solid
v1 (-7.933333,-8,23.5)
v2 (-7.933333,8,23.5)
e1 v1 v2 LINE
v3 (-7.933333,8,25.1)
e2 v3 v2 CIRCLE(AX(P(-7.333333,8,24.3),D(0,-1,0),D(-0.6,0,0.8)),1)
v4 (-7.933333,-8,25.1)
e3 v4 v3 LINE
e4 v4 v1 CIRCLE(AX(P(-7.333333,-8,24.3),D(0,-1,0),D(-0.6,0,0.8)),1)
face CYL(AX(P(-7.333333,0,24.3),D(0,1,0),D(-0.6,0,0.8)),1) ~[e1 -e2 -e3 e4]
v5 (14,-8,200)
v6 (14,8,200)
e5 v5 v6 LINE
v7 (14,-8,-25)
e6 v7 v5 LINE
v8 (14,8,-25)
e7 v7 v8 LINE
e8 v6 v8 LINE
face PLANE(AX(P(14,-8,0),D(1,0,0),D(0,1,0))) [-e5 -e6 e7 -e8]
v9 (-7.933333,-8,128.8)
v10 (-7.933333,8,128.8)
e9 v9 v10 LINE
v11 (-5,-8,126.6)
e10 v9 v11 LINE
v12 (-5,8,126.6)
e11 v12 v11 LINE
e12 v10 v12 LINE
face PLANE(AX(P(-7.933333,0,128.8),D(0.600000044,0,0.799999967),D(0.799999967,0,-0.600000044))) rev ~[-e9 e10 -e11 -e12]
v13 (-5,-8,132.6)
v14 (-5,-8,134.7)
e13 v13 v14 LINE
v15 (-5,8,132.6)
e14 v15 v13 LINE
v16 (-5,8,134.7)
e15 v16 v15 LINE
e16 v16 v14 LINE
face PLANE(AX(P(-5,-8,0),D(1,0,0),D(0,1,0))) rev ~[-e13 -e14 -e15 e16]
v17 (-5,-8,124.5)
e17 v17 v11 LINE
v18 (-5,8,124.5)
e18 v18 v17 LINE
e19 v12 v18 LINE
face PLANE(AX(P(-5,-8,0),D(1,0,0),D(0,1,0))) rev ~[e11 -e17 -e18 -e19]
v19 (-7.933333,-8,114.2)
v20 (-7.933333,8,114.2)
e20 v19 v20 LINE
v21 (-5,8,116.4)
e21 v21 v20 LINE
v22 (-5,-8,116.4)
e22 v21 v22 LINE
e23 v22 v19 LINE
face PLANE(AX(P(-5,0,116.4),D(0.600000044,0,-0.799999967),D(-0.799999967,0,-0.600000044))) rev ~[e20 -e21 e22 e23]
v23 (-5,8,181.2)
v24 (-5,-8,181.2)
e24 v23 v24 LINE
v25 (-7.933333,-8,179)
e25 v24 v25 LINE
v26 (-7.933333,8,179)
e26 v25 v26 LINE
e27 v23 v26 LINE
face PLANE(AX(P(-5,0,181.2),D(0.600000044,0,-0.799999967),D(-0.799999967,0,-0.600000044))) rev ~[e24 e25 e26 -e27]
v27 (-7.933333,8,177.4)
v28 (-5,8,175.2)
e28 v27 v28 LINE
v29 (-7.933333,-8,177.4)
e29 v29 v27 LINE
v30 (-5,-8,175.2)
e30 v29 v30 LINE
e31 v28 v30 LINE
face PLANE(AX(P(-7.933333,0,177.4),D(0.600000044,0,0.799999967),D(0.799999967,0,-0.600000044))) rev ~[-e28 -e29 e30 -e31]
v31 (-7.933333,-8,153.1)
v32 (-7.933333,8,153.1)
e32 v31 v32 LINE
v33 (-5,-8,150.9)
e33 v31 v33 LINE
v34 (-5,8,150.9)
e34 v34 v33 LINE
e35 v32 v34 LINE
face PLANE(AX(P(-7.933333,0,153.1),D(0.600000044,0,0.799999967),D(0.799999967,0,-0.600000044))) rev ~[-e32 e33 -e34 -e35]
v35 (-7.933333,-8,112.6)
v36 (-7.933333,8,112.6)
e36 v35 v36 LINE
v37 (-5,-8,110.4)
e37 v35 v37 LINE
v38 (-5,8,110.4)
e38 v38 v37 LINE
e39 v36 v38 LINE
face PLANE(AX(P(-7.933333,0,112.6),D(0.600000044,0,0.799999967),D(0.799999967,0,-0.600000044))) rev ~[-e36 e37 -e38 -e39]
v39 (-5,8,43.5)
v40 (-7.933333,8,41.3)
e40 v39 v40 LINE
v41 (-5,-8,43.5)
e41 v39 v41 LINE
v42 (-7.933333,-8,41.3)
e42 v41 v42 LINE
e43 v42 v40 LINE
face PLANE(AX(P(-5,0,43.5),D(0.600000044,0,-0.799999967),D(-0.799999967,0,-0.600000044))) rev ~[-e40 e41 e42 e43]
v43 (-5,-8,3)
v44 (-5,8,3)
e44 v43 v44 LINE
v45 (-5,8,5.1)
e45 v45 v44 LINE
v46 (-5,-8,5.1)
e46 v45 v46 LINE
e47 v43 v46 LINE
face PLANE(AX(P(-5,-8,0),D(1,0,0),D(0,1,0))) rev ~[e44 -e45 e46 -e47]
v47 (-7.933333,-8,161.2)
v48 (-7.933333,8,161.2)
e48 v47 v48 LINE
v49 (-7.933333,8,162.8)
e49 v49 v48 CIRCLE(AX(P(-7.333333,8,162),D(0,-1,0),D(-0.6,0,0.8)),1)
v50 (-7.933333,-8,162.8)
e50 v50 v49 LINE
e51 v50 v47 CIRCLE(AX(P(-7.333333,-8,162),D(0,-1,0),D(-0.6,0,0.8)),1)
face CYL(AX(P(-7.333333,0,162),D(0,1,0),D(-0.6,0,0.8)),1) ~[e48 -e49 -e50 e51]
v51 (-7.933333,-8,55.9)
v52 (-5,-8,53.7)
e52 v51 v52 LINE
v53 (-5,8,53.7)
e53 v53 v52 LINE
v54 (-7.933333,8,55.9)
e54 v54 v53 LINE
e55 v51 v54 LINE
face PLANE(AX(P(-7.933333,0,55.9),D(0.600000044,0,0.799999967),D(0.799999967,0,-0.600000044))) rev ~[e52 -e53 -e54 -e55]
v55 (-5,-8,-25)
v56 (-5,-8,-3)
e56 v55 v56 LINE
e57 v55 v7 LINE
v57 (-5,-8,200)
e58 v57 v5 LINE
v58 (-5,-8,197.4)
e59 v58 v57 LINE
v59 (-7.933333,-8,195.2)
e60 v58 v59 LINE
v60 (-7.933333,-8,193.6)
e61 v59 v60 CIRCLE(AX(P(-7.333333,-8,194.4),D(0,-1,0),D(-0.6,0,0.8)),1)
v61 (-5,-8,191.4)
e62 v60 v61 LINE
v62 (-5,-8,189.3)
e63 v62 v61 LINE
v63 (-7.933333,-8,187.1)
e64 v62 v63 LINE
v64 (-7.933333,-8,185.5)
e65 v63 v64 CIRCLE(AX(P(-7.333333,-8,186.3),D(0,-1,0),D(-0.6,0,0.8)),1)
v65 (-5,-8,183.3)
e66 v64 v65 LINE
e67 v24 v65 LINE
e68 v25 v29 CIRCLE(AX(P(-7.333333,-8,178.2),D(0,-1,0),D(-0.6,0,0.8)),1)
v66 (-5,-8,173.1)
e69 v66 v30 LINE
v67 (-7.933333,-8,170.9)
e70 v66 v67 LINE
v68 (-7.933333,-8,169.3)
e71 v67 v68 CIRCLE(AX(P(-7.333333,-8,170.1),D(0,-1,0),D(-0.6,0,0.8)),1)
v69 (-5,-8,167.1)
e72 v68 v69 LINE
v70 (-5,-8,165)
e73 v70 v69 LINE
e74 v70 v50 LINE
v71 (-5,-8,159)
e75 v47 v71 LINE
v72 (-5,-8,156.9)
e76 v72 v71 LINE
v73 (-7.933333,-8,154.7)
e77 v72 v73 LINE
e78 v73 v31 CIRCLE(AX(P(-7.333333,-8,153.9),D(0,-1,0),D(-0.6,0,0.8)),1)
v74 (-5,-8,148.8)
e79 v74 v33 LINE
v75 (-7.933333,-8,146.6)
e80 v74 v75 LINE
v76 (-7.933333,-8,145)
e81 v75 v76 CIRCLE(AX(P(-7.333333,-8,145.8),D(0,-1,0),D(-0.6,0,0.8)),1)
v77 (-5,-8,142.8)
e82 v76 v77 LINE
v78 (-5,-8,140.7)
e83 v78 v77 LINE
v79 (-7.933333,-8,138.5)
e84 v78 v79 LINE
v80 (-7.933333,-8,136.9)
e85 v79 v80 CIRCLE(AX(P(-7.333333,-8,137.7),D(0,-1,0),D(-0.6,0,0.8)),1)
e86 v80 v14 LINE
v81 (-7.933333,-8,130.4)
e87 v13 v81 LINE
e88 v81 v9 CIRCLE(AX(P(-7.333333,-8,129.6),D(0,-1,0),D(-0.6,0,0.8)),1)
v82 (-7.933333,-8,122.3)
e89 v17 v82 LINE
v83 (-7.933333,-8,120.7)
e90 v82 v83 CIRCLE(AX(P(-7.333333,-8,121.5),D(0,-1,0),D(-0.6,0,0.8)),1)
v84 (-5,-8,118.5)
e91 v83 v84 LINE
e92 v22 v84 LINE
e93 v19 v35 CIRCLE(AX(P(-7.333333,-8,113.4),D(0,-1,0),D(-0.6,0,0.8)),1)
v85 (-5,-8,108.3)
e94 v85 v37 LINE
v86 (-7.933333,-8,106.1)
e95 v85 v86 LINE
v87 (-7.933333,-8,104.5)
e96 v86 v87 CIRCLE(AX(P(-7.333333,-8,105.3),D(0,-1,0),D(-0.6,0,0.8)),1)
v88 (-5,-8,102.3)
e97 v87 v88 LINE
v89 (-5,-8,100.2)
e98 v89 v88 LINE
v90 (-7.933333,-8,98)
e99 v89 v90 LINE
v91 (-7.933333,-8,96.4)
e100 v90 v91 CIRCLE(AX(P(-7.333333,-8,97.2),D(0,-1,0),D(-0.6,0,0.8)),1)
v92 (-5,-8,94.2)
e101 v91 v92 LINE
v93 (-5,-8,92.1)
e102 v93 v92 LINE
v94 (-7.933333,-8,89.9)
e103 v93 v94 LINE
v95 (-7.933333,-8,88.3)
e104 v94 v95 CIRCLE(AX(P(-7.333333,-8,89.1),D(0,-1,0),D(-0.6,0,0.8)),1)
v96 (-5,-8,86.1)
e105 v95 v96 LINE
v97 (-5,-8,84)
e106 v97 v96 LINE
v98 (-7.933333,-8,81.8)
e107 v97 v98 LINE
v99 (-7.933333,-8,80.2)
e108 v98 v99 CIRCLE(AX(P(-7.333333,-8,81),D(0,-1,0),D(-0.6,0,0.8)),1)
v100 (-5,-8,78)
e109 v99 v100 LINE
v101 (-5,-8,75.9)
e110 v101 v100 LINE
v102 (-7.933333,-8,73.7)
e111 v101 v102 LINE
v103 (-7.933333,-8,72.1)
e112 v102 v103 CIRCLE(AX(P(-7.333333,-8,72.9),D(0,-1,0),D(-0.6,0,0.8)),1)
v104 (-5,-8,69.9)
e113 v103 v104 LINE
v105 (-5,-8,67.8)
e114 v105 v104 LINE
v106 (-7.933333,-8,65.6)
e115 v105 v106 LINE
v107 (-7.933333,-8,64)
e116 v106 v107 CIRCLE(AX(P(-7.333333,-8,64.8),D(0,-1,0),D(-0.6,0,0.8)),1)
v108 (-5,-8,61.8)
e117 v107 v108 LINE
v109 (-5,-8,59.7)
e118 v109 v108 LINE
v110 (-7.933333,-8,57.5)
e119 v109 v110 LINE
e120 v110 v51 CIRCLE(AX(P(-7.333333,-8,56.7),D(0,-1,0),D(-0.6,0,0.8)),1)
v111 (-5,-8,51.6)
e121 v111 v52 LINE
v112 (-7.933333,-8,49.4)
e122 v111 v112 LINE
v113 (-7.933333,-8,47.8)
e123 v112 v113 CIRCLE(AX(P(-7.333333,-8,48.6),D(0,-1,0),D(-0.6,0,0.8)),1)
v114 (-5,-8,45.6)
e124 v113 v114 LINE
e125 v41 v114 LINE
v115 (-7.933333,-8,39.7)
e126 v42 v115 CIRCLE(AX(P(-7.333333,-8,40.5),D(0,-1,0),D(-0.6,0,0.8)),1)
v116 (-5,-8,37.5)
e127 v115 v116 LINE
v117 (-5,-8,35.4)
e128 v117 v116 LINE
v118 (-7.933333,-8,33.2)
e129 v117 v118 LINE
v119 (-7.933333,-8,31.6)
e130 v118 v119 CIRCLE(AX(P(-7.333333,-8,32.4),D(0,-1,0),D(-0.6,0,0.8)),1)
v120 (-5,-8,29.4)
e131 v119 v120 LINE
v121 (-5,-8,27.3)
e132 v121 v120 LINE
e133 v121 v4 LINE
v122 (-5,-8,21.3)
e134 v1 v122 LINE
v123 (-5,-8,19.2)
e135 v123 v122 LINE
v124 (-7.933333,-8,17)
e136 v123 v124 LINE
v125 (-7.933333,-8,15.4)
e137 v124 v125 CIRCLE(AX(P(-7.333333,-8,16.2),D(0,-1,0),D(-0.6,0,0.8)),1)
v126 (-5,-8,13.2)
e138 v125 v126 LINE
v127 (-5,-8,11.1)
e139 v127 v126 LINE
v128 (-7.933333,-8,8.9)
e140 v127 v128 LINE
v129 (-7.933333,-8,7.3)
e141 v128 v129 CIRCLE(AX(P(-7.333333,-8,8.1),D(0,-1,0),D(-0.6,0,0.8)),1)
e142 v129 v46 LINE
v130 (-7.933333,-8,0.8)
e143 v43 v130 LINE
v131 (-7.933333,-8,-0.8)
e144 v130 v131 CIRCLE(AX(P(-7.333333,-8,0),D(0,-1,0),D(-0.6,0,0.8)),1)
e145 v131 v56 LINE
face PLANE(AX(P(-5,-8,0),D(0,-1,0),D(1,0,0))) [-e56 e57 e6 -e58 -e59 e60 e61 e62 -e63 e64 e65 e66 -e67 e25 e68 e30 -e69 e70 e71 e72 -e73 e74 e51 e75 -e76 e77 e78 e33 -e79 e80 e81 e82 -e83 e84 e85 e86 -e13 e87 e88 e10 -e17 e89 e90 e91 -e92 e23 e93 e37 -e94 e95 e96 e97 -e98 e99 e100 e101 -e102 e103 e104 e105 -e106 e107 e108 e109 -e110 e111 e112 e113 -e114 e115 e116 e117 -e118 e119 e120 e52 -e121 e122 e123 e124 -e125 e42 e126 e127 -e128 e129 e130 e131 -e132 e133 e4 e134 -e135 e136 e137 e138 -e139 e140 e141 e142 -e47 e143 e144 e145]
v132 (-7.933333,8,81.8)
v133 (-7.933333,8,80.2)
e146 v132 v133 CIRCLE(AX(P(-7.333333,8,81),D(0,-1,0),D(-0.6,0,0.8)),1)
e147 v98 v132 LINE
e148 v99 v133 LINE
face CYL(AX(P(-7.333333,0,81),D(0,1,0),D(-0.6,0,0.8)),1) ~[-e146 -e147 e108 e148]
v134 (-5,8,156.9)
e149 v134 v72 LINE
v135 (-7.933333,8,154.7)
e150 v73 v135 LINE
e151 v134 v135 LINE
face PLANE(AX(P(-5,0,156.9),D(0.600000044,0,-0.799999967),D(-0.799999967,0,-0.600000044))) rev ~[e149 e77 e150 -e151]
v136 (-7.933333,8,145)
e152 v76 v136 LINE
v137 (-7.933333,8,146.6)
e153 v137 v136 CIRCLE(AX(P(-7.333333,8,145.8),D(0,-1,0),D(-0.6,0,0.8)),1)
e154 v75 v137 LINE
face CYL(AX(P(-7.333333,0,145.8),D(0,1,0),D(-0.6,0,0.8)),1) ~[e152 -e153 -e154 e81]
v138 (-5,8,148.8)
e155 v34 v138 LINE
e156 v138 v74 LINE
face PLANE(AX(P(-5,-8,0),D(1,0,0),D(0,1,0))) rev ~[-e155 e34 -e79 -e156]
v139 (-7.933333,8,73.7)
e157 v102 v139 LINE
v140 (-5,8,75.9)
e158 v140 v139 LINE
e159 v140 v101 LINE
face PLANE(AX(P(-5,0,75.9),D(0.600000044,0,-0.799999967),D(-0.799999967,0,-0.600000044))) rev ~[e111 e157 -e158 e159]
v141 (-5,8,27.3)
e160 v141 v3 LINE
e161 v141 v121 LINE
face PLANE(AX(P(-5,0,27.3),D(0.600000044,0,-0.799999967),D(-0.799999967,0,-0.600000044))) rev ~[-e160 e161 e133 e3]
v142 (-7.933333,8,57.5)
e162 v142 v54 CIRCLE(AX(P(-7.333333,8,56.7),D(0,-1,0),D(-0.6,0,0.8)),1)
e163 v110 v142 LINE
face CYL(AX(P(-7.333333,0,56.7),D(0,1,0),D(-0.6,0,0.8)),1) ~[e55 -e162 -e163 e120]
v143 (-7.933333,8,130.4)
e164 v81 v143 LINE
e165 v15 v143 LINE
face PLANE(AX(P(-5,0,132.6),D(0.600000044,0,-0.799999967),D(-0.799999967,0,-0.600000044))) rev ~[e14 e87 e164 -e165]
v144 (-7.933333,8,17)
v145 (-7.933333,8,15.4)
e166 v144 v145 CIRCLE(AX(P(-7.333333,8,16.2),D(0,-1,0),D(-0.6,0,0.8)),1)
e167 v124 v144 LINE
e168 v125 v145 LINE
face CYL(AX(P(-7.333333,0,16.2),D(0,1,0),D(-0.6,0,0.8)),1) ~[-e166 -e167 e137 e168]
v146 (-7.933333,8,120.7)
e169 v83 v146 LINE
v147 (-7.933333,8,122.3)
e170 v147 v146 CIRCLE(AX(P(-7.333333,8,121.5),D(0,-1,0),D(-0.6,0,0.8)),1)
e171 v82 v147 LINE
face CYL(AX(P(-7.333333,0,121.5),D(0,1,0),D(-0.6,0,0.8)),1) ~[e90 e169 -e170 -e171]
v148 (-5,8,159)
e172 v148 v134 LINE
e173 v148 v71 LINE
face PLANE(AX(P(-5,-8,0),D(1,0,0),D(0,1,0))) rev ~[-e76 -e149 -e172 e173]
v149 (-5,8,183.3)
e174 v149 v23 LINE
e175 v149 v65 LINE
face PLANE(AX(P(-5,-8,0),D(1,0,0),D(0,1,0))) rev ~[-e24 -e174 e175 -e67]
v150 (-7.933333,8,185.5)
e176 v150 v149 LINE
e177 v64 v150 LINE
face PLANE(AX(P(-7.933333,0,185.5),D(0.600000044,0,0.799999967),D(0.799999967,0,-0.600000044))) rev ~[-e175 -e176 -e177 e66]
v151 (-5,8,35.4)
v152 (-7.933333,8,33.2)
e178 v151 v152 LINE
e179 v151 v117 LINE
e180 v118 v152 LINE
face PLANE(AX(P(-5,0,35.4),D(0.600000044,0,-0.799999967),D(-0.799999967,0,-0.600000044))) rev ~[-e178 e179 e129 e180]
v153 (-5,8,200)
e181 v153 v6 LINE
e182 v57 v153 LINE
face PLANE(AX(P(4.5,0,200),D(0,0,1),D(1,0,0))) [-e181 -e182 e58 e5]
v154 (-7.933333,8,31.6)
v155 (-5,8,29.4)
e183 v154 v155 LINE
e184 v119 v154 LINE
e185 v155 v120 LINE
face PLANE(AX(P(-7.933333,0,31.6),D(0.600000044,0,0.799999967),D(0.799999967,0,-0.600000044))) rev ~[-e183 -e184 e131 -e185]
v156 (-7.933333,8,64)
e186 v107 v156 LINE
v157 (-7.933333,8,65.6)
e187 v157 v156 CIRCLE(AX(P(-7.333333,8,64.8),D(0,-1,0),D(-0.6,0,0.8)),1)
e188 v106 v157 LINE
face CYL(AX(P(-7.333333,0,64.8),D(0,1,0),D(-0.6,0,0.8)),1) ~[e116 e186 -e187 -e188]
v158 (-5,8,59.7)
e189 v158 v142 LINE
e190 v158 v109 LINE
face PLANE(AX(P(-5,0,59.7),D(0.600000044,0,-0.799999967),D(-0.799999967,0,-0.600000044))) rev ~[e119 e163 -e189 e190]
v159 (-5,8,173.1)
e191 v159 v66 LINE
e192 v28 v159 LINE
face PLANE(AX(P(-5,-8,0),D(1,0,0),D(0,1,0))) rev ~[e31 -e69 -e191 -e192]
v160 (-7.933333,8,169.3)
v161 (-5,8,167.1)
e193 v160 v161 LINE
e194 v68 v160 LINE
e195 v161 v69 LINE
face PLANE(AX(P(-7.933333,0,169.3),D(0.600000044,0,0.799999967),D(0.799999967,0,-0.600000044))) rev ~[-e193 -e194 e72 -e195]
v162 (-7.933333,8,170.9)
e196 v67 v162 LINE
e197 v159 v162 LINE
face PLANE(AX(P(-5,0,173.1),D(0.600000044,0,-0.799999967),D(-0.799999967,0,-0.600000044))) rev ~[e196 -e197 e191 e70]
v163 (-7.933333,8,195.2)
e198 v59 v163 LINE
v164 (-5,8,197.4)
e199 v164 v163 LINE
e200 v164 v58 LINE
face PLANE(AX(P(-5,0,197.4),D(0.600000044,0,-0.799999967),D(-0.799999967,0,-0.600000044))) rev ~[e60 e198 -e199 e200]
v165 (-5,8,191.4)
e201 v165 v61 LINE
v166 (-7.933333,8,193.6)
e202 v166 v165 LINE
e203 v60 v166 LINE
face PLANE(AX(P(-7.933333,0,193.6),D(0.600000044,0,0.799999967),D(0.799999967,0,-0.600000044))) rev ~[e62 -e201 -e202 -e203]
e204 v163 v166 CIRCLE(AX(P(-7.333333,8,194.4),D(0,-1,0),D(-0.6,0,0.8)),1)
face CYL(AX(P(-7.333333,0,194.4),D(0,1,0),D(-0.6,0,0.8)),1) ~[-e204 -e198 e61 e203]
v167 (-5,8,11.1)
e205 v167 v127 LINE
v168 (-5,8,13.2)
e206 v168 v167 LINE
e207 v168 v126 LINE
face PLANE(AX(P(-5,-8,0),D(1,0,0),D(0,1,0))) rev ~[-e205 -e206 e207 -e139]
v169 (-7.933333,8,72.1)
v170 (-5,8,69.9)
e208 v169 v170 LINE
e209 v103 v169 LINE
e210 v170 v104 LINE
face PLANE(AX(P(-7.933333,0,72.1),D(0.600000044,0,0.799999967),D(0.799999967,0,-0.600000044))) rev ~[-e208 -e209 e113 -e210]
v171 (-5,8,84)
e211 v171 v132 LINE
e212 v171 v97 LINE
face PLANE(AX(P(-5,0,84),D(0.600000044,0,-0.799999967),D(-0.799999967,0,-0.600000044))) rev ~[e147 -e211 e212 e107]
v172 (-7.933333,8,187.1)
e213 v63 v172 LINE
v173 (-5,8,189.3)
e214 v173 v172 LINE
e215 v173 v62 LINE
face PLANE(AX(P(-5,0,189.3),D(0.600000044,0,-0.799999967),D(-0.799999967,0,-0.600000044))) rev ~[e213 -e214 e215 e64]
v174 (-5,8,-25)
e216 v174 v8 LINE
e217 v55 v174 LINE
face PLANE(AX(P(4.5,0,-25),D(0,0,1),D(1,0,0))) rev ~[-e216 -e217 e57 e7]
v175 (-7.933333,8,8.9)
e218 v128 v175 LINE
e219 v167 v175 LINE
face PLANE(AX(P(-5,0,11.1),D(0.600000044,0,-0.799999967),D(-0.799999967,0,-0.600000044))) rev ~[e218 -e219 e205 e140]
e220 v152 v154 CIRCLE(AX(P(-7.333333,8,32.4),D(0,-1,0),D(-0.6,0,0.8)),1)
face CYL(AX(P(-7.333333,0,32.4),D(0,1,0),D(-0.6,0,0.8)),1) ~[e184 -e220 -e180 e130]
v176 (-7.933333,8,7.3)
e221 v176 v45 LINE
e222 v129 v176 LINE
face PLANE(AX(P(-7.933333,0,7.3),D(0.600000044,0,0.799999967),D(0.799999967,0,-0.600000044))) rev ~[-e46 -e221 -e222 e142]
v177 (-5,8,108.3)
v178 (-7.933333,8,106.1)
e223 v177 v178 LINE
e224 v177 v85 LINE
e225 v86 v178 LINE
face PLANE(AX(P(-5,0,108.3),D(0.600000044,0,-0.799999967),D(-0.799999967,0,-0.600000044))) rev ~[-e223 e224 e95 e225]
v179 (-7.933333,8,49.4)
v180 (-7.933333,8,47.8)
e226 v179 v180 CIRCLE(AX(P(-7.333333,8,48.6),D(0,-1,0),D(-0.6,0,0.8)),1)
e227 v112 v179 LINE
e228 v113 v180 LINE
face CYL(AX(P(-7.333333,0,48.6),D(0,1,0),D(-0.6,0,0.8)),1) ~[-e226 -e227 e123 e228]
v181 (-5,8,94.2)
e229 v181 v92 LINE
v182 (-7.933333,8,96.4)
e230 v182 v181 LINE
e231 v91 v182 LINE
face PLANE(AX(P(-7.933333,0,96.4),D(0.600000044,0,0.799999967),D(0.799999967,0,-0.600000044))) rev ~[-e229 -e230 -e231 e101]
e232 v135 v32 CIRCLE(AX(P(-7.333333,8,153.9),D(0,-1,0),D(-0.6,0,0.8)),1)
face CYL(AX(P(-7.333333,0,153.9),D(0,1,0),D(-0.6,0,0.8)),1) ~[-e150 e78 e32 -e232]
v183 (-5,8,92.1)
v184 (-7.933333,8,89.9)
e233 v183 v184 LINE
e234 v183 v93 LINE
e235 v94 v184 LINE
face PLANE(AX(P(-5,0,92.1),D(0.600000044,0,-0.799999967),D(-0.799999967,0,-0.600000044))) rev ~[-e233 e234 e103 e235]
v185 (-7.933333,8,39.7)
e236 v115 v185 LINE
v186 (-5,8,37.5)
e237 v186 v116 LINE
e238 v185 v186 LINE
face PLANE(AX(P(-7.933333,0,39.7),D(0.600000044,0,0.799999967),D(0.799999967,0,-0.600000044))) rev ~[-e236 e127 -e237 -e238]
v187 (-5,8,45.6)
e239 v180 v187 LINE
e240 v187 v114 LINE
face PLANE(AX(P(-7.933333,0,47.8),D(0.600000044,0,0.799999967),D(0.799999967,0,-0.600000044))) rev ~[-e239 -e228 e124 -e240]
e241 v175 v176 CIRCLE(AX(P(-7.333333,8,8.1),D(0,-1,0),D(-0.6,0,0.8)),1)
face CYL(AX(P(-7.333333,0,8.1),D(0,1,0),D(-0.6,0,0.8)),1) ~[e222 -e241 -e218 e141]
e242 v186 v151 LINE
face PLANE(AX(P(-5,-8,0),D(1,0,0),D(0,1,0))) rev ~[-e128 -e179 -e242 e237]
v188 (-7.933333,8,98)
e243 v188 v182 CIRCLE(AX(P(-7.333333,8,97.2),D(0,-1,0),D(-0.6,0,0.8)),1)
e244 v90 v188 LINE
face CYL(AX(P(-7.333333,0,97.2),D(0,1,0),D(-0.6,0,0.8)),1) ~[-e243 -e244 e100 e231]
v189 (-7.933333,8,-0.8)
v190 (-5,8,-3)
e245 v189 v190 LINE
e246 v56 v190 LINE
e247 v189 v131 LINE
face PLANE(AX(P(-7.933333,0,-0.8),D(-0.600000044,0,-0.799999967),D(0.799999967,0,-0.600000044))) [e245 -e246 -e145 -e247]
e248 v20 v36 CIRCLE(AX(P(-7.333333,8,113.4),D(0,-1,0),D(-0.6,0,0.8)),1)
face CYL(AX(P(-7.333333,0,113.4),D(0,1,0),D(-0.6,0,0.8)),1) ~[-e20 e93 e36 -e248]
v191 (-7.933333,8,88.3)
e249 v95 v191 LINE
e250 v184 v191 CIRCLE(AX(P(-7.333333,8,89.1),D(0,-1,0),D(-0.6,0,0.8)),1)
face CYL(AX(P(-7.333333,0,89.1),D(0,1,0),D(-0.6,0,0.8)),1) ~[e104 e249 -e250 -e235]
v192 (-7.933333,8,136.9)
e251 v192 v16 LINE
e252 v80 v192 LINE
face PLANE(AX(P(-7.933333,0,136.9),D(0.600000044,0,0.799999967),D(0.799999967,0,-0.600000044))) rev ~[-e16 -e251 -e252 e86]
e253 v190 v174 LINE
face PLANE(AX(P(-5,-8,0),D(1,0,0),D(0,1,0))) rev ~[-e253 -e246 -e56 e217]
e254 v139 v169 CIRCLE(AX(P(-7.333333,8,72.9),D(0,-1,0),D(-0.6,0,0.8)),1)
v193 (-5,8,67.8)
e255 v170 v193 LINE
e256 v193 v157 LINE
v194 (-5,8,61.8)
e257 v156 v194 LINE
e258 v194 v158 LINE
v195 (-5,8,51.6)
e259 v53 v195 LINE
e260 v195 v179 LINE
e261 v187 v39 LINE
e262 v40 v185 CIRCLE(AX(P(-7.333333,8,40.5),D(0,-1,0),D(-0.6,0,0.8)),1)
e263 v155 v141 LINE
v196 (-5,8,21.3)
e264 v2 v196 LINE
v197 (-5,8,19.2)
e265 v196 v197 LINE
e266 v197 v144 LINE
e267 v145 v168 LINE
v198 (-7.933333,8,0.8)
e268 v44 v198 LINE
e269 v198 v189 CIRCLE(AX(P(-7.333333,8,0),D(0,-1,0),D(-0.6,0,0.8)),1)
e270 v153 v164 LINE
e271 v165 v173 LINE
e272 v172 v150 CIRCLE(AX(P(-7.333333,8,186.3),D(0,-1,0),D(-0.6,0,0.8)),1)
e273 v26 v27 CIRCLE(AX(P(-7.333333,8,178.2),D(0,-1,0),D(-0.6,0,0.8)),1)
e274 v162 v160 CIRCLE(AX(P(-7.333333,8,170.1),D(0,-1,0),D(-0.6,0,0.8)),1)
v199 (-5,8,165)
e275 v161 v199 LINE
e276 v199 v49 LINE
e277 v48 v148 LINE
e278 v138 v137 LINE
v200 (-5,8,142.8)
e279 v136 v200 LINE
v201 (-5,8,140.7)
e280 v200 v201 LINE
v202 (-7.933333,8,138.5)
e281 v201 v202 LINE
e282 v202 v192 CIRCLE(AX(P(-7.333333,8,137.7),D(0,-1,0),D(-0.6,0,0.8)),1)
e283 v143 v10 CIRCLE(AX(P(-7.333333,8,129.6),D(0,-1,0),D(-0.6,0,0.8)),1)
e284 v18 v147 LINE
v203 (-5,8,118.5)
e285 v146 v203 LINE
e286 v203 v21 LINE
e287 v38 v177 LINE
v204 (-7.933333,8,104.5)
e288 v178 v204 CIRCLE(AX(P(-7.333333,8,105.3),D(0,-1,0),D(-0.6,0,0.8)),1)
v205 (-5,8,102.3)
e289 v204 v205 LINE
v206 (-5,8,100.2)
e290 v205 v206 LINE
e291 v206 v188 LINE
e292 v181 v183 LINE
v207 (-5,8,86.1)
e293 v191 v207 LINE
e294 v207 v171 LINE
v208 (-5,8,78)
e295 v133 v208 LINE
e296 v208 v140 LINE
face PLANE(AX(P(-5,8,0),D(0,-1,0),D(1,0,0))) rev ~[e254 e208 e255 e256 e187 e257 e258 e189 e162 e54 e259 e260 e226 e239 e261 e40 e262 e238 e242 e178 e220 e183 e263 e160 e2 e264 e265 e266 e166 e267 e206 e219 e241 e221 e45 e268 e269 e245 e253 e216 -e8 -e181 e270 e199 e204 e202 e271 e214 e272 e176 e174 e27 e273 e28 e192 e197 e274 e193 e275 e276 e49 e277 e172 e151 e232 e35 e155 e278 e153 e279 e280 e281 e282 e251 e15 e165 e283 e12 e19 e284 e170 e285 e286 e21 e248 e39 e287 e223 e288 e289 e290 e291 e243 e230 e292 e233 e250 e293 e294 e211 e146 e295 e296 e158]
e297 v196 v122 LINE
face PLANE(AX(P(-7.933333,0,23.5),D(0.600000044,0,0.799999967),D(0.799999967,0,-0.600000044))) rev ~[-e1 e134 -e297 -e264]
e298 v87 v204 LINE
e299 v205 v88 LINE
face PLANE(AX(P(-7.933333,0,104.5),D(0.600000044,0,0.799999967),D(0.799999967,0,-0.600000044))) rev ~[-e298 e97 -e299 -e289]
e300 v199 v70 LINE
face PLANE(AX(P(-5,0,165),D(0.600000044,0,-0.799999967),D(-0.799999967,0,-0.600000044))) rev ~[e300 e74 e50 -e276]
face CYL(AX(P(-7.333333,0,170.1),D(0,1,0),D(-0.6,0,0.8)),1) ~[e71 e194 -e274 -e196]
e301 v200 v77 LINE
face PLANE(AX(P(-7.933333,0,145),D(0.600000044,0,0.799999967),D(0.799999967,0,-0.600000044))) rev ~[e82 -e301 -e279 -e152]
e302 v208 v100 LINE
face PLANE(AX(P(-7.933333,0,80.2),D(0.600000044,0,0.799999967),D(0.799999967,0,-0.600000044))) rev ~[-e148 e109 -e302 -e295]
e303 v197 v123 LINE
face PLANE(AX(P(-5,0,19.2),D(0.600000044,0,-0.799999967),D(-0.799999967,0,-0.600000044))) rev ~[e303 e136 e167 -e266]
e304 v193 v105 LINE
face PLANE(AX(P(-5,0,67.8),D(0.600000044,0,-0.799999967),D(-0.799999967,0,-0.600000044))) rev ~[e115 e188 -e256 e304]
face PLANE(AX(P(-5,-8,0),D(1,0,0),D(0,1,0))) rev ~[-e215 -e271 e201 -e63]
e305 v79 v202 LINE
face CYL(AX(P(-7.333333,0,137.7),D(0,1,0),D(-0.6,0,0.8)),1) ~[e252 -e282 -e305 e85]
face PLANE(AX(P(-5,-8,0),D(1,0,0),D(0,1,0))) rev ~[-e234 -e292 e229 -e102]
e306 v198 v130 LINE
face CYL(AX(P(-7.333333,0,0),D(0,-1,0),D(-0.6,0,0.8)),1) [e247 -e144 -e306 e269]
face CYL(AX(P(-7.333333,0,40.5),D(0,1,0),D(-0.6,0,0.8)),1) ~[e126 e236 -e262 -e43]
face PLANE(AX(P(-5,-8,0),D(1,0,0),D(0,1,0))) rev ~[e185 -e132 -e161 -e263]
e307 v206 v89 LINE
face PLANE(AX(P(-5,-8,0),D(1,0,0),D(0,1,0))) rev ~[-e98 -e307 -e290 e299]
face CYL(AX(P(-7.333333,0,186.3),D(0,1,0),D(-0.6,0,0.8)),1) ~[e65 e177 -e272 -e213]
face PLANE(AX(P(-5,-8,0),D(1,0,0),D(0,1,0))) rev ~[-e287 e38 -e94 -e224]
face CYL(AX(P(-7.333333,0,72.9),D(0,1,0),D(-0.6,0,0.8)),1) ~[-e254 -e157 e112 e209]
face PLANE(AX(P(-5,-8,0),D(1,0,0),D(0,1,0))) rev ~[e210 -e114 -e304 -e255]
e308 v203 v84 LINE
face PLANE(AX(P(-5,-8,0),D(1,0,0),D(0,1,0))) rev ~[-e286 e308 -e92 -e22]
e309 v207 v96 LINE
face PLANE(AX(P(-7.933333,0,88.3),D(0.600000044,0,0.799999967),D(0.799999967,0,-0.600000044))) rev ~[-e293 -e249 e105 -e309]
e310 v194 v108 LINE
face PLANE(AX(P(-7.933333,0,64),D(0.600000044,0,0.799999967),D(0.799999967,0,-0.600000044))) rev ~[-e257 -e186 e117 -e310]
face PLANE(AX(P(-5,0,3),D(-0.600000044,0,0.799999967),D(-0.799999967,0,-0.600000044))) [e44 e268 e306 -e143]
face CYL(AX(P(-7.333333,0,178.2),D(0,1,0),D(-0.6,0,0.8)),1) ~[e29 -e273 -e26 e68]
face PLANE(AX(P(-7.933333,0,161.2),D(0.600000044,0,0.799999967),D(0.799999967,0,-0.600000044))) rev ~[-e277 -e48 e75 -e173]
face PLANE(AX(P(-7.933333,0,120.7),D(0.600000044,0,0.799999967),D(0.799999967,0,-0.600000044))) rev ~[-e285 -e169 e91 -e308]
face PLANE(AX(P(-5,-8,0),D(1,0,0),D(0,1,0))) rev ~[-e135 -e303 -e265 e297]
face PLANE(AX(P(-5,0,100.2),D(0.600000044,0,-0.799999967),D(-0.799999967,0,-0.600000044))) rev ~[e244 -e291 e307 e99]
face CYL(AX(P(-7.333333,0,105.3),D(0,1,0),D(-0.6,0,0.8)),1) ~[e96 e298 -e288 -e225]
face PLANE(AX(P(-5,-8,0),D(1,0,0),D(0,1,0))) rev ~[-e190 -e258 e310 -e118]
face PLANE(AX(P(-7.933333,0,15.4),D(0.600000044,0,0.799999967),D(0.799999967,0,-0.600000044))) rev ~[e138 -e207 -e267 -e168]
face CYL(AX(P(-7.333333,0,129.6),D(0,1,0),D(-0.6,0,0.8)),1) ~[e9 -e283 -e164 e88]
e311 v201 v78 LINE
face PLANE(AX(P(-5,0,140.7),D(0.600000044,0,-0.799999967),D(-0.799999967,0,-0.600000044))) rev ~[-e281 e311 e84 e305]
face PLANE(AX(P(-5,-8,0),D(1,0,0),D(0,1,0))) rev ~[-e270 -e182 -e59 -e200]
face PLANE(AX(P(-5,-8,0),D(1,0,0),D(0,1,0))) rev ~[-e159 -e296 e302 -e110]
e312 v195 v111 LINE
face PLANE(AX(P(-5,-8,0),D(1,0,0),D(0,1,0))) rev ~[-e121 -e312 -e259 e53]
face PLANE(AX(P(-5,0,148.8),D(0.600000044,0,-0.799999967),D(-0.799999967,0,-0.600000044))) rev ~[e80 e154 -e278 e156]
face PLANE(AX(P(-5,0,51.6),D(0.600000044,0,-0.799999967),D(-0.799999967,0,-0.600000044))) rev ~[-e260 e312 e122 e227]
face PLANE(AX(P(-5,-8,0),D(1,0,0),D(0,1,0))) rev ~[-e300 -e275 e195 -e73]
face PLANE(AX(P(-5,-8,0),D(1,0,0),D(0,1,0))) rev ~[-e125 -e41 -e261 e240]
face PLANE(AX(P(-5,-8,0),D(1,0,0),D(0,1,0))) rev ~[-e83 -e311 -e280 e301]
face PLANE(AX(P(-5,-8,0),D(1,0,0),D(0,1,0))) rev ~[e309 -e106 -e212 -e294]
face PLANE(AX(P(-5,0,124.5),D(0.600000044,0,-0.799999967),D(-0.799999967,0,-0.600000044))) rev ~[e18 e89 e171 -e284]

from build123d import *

# Parameters (mm, degrees)
F0_W          = 19
F0_H          = 16
F1_DEPTH      = 200
F1_DEPTH_BACK = 25
F3_DEPTH      = 8


with BuildPart() as f1:
    # F0 (on Top) → F1 (new body, two sides)
    with BuildSketch(Plane.XY) as f1_sk:
        with Locations((4.5, 0)):
            Rectangle(F0_W, F0_H)
    extrude(amount=F1_DEPTH)
    extrude(f1_sk.sketch, amount=-F1_DEPTH_BACK)

    # F2 (on Front) → F3 (join, symmetric)
    with BuildSketch(Plane.XZ):
        with BuildLine():
            Line((-7.933333, 193.6), (-5, 191.4))
            Line((-5, 191.4), (-5, 197.4))
            Line((-5, 197.4), (-7.933333, 195.2))
            ThreePointArc((-7.933333, 195.2), (-8.333333, 194.4), (-7.933333, 193.6))
        make_face()
        with BuildLine():
            Line((-7.933333, 185.5), (-5, 183.3))
            Line((-5, 183.3), (-5, 189.3))
            Line((-5, 189.3), (-7.933333, 187.1))
            ThreePointArc((-7.933333, 187.1), (-8.333333, 186.3), (-7.933333, 185.5))
        make_face()
        with BuildLine():
            Line((-7.933333, 177.4), (-5, 175.2))
            Line((-5, 175.2), (-5, 181.2))
            Line((-5, 181.2), (-7.933333, 179))
            ThreePointArc((-7.933333, 179), (-8.333333, 178.2), (-7.933333, 177.4))
        make_face()
        with BuildLine():
            Line((-7.933333, 169.3), (-5, 167.1))
            Line((-5, 167.1), (-5, 173.1))
            Line((-5, 173.1), (-7.933333, 170.9))
            ThreePointArc((-7.933333, 170.9), (-8.333333, 170.1), (-7.933333, 169.3))
        make_face()
        with BuildLine():
            Line((-7.933333, 161.2), (-5, 159))
            Line((-5, 159), (-5, 165))
            Line((-5, 165), (-7.933333, 162.8))
            ThreePointArc((-7.933333, 162.8), (-8.333333, 162), (-7.933333, 161.2))
        make_face()
        with BuildLine():
            Line((-7.933333, 153.1), (-5, 150.9))
            Line((-5, 150.9), (-5, 156.9))
            Line((-5, 156.9), (-7.933333, 154.7))
            ThreePointArc((-7.933333, 154.7), (-8.333333, 153.9), (-7.933333, 153.1))
        make_face()
        with BuildLine():
            Line((-7.933333, 145), (-5, 142.8))
            Line((-5, 142.8), (-5, 148.8))
            Line((-5, 148.8), (-7.933333, 146.6))
            ThreePointArc((-7.933333, 146.6), (-8.333333, 145.8), (-7.933333, 145))
        make_face()
        with BuildLine():
            Line((-7.933333, 136.9), (-5, 134.7))
            Line((-5, 134.7), (-5, 140.7))
            Line((-5, 140.7), (-7.933333, 138.5))
            ThreePointArc((-7.933333, 138.5), (-8.333333, 137.7), (-7.933333, 136.9))
        make_face()
        with BuildLine():
            Line((-7.933333, 128.8), (-5, 126.6))
            Line((-5, 126.6), (-5, 132.6))
            Line((-5, 132.6), (-7.933333, 130.4))
            ThreePointArc((-7.933333, 130.4), (-8.333333, 129.6), (-7.933333, 128.8))
        make_face()
        with BuildLine():
            Line((-7.933333, 120.7), (-5, 118.5))
            Line((-5, 118.5), (-5, 124.5))
            Line((-5, 124.5), (-7.933333, 122.3))
            ThreePointArc((-7.933333, 122.3), (-8.333333, 121.5), (-7.933333, 120.7))
        make_face()
        with BuildLine():
            Line((-7.933333, 112.6), (-5, 110.4))
            Line((-5, 110.4), (-5, 116.4))
            Line((-5, 116.4), (-7.933333, 114.2))
            ThreePointArc((-7.933333, 114.2), (-8.333333, 113.4), (-7.933333, 112.6))
        make_face()
        with BuildLine():
            Line((-7.933333, 104.5), (-5, 102.3))
            Line((-5, 102.3), (-5, 108.3))
            Line((-5, 108.3), (-7.933333, 106.1))
            ThreePointArc((-7.933333, 106.1), (-8.333333, 105.3), (-7.933333, 104.5))
        make_face()
        with BuildLine():
            Line((-7.933333, 96.4), (-5, 94.2))
            Line((-5, 94.2), (-5, 100.2))
            Line((-5, 100.2), (-7.933333, 98))
            ThreePointArc((-7.933333, 98), (-8.333333, 97.2), (-7.933333, 96.4))
        make_face()
        with BuildLine():
            Line((-7.933333, 88.3), (-5, 86.1))
            Line((-5, 86.1), (-5, 92.1))
            Line((-5, 92.1), (-7.933333, 89.9))
            ThreePointArc((-7.933333, 89.9), (-8.333333, 89.1), (-7.933333, 88.3))
        make_face()
        with BuildLine():
            Line((-7.933333, 80.2), (-5, 78))
            Line((-5, 78), (-5, 84))
            Line((-5, 84), (-7.933333, 81.8))
            ThreePointArc((-7.933333, 81.8), (-8.333333, 81), (-7.933333, 80.2))
        make_face()
        with BuildLine():
            Line((-7.933333, 72.1), (-5, 69.9))
            Line((-5, 69.9), (-5, 75.9))
            Line((-5, 75.9), (-7.933333, 73.7))
            ThreePointArc((-7.933333, 73.7), (-8.333333, 72.9), (-7.933333, 72.1))
        make_face()
        with BuildLine():
            Line((-7.933333, 64), (-5, 61.8))
            Line((-5, 61.8), (-5, 67.8))
            Line((-5, 67.8), (-7.933333, 65.6))
            ThreePointArc((-7.933333, 65.6), (-8.333333, 64.8), (-7.933333, 64))
        make_face()
        with BuildLine():
            Line((-7.933333, 55.9), (-5, 53.7))
            Line((-5, 53.7), (-5, 59.7))
            Line((-5, 59.7), (-7.933333, 57.5))
            ThreePointArc((-7.933333, 57.5), (-8.333333, 56.7), (-7.933333, 55.9))
        make_face()
        with BuildLine():
            Line((-7.933333, 47.8), (-5, 45.6))
            Line((-5, 45.6), (-5, 51.6))
            Line((-5, 51.6), (-7.933333, 49.4))
            ThreePointArc((-7.933333, 49.4), (-8.333333, 48.6), (-7.933333, 47.8))
        make_face()
        with BuildLine():
            Line((-7.933333, 39.7), (-5, 37.5))
            Line((-5, 37.5), (-5, 43.5))
            Line((-5, 43.5), (-7.933333, 41.3))
            ThreePointArc((-7.933333, 41.3), (-8.333333, 40.5), (-7.933333, 39.7))
        make_face()
        with BuildLine():
            Line((-7.933333, 31.6), (-5, 29.4))
            Line((-5, 29.4), (-5, 35.4))
            Line((-5, 35.4), (-7.933333, 33.2))
            ThreePointArc((-7.933333, 33.2), (-8.333333, 32.4), (-7.933333, 31.6))
        make_face()
        with BuildLine():
            Line((-7.933333, 23.5), (-5, 21.3))
            Line((-5, 21.3), (-5, 27.3))
            Line((-5, 27.3), (-7.933333, 25.1))
            ThreePointArc((-7.933333, 25.1), (-8.333333, 24.3), (-7.933333, 23.5))
        make_face()
        with BuildLine():
            Line((-7.933333, 15.4), (-5, 13.2))
            Line((-5, 13.2), (-5, 19.2))
            Line((-5, 19.2), (-7.933333, 17))
            ThreePointArc((-7.933333, 17), (-8.333333, 16.2), (-7.933333, 15.4))
        make_face()
        with BuildLine():
            Line((-7.933333, 7.3), (-5, 5.1))
            Line((-5, 5.1), (-5, 11.1))
            Line((-5, 11.1), (-7.933333, 8.9))
            ThreePointArc((-7.933333, 8.9), (-8.333333, 8.1), (-7.933333, 7.3))
        make_face()
        with BuildLine():
            Line((-5, 3), (-7.933333, 0.8))
            ThreePointArc((-7.933333, 0.8), (-8.333333, 0), (-7.933333, -0.8))
            Line((-7.933333, -0.8), (-5, -3))
            Line((-5, -3), (-5, 3))
        make_face()
    extrude(amount=F3_DEPTH, both=True)


solid = f1.part
